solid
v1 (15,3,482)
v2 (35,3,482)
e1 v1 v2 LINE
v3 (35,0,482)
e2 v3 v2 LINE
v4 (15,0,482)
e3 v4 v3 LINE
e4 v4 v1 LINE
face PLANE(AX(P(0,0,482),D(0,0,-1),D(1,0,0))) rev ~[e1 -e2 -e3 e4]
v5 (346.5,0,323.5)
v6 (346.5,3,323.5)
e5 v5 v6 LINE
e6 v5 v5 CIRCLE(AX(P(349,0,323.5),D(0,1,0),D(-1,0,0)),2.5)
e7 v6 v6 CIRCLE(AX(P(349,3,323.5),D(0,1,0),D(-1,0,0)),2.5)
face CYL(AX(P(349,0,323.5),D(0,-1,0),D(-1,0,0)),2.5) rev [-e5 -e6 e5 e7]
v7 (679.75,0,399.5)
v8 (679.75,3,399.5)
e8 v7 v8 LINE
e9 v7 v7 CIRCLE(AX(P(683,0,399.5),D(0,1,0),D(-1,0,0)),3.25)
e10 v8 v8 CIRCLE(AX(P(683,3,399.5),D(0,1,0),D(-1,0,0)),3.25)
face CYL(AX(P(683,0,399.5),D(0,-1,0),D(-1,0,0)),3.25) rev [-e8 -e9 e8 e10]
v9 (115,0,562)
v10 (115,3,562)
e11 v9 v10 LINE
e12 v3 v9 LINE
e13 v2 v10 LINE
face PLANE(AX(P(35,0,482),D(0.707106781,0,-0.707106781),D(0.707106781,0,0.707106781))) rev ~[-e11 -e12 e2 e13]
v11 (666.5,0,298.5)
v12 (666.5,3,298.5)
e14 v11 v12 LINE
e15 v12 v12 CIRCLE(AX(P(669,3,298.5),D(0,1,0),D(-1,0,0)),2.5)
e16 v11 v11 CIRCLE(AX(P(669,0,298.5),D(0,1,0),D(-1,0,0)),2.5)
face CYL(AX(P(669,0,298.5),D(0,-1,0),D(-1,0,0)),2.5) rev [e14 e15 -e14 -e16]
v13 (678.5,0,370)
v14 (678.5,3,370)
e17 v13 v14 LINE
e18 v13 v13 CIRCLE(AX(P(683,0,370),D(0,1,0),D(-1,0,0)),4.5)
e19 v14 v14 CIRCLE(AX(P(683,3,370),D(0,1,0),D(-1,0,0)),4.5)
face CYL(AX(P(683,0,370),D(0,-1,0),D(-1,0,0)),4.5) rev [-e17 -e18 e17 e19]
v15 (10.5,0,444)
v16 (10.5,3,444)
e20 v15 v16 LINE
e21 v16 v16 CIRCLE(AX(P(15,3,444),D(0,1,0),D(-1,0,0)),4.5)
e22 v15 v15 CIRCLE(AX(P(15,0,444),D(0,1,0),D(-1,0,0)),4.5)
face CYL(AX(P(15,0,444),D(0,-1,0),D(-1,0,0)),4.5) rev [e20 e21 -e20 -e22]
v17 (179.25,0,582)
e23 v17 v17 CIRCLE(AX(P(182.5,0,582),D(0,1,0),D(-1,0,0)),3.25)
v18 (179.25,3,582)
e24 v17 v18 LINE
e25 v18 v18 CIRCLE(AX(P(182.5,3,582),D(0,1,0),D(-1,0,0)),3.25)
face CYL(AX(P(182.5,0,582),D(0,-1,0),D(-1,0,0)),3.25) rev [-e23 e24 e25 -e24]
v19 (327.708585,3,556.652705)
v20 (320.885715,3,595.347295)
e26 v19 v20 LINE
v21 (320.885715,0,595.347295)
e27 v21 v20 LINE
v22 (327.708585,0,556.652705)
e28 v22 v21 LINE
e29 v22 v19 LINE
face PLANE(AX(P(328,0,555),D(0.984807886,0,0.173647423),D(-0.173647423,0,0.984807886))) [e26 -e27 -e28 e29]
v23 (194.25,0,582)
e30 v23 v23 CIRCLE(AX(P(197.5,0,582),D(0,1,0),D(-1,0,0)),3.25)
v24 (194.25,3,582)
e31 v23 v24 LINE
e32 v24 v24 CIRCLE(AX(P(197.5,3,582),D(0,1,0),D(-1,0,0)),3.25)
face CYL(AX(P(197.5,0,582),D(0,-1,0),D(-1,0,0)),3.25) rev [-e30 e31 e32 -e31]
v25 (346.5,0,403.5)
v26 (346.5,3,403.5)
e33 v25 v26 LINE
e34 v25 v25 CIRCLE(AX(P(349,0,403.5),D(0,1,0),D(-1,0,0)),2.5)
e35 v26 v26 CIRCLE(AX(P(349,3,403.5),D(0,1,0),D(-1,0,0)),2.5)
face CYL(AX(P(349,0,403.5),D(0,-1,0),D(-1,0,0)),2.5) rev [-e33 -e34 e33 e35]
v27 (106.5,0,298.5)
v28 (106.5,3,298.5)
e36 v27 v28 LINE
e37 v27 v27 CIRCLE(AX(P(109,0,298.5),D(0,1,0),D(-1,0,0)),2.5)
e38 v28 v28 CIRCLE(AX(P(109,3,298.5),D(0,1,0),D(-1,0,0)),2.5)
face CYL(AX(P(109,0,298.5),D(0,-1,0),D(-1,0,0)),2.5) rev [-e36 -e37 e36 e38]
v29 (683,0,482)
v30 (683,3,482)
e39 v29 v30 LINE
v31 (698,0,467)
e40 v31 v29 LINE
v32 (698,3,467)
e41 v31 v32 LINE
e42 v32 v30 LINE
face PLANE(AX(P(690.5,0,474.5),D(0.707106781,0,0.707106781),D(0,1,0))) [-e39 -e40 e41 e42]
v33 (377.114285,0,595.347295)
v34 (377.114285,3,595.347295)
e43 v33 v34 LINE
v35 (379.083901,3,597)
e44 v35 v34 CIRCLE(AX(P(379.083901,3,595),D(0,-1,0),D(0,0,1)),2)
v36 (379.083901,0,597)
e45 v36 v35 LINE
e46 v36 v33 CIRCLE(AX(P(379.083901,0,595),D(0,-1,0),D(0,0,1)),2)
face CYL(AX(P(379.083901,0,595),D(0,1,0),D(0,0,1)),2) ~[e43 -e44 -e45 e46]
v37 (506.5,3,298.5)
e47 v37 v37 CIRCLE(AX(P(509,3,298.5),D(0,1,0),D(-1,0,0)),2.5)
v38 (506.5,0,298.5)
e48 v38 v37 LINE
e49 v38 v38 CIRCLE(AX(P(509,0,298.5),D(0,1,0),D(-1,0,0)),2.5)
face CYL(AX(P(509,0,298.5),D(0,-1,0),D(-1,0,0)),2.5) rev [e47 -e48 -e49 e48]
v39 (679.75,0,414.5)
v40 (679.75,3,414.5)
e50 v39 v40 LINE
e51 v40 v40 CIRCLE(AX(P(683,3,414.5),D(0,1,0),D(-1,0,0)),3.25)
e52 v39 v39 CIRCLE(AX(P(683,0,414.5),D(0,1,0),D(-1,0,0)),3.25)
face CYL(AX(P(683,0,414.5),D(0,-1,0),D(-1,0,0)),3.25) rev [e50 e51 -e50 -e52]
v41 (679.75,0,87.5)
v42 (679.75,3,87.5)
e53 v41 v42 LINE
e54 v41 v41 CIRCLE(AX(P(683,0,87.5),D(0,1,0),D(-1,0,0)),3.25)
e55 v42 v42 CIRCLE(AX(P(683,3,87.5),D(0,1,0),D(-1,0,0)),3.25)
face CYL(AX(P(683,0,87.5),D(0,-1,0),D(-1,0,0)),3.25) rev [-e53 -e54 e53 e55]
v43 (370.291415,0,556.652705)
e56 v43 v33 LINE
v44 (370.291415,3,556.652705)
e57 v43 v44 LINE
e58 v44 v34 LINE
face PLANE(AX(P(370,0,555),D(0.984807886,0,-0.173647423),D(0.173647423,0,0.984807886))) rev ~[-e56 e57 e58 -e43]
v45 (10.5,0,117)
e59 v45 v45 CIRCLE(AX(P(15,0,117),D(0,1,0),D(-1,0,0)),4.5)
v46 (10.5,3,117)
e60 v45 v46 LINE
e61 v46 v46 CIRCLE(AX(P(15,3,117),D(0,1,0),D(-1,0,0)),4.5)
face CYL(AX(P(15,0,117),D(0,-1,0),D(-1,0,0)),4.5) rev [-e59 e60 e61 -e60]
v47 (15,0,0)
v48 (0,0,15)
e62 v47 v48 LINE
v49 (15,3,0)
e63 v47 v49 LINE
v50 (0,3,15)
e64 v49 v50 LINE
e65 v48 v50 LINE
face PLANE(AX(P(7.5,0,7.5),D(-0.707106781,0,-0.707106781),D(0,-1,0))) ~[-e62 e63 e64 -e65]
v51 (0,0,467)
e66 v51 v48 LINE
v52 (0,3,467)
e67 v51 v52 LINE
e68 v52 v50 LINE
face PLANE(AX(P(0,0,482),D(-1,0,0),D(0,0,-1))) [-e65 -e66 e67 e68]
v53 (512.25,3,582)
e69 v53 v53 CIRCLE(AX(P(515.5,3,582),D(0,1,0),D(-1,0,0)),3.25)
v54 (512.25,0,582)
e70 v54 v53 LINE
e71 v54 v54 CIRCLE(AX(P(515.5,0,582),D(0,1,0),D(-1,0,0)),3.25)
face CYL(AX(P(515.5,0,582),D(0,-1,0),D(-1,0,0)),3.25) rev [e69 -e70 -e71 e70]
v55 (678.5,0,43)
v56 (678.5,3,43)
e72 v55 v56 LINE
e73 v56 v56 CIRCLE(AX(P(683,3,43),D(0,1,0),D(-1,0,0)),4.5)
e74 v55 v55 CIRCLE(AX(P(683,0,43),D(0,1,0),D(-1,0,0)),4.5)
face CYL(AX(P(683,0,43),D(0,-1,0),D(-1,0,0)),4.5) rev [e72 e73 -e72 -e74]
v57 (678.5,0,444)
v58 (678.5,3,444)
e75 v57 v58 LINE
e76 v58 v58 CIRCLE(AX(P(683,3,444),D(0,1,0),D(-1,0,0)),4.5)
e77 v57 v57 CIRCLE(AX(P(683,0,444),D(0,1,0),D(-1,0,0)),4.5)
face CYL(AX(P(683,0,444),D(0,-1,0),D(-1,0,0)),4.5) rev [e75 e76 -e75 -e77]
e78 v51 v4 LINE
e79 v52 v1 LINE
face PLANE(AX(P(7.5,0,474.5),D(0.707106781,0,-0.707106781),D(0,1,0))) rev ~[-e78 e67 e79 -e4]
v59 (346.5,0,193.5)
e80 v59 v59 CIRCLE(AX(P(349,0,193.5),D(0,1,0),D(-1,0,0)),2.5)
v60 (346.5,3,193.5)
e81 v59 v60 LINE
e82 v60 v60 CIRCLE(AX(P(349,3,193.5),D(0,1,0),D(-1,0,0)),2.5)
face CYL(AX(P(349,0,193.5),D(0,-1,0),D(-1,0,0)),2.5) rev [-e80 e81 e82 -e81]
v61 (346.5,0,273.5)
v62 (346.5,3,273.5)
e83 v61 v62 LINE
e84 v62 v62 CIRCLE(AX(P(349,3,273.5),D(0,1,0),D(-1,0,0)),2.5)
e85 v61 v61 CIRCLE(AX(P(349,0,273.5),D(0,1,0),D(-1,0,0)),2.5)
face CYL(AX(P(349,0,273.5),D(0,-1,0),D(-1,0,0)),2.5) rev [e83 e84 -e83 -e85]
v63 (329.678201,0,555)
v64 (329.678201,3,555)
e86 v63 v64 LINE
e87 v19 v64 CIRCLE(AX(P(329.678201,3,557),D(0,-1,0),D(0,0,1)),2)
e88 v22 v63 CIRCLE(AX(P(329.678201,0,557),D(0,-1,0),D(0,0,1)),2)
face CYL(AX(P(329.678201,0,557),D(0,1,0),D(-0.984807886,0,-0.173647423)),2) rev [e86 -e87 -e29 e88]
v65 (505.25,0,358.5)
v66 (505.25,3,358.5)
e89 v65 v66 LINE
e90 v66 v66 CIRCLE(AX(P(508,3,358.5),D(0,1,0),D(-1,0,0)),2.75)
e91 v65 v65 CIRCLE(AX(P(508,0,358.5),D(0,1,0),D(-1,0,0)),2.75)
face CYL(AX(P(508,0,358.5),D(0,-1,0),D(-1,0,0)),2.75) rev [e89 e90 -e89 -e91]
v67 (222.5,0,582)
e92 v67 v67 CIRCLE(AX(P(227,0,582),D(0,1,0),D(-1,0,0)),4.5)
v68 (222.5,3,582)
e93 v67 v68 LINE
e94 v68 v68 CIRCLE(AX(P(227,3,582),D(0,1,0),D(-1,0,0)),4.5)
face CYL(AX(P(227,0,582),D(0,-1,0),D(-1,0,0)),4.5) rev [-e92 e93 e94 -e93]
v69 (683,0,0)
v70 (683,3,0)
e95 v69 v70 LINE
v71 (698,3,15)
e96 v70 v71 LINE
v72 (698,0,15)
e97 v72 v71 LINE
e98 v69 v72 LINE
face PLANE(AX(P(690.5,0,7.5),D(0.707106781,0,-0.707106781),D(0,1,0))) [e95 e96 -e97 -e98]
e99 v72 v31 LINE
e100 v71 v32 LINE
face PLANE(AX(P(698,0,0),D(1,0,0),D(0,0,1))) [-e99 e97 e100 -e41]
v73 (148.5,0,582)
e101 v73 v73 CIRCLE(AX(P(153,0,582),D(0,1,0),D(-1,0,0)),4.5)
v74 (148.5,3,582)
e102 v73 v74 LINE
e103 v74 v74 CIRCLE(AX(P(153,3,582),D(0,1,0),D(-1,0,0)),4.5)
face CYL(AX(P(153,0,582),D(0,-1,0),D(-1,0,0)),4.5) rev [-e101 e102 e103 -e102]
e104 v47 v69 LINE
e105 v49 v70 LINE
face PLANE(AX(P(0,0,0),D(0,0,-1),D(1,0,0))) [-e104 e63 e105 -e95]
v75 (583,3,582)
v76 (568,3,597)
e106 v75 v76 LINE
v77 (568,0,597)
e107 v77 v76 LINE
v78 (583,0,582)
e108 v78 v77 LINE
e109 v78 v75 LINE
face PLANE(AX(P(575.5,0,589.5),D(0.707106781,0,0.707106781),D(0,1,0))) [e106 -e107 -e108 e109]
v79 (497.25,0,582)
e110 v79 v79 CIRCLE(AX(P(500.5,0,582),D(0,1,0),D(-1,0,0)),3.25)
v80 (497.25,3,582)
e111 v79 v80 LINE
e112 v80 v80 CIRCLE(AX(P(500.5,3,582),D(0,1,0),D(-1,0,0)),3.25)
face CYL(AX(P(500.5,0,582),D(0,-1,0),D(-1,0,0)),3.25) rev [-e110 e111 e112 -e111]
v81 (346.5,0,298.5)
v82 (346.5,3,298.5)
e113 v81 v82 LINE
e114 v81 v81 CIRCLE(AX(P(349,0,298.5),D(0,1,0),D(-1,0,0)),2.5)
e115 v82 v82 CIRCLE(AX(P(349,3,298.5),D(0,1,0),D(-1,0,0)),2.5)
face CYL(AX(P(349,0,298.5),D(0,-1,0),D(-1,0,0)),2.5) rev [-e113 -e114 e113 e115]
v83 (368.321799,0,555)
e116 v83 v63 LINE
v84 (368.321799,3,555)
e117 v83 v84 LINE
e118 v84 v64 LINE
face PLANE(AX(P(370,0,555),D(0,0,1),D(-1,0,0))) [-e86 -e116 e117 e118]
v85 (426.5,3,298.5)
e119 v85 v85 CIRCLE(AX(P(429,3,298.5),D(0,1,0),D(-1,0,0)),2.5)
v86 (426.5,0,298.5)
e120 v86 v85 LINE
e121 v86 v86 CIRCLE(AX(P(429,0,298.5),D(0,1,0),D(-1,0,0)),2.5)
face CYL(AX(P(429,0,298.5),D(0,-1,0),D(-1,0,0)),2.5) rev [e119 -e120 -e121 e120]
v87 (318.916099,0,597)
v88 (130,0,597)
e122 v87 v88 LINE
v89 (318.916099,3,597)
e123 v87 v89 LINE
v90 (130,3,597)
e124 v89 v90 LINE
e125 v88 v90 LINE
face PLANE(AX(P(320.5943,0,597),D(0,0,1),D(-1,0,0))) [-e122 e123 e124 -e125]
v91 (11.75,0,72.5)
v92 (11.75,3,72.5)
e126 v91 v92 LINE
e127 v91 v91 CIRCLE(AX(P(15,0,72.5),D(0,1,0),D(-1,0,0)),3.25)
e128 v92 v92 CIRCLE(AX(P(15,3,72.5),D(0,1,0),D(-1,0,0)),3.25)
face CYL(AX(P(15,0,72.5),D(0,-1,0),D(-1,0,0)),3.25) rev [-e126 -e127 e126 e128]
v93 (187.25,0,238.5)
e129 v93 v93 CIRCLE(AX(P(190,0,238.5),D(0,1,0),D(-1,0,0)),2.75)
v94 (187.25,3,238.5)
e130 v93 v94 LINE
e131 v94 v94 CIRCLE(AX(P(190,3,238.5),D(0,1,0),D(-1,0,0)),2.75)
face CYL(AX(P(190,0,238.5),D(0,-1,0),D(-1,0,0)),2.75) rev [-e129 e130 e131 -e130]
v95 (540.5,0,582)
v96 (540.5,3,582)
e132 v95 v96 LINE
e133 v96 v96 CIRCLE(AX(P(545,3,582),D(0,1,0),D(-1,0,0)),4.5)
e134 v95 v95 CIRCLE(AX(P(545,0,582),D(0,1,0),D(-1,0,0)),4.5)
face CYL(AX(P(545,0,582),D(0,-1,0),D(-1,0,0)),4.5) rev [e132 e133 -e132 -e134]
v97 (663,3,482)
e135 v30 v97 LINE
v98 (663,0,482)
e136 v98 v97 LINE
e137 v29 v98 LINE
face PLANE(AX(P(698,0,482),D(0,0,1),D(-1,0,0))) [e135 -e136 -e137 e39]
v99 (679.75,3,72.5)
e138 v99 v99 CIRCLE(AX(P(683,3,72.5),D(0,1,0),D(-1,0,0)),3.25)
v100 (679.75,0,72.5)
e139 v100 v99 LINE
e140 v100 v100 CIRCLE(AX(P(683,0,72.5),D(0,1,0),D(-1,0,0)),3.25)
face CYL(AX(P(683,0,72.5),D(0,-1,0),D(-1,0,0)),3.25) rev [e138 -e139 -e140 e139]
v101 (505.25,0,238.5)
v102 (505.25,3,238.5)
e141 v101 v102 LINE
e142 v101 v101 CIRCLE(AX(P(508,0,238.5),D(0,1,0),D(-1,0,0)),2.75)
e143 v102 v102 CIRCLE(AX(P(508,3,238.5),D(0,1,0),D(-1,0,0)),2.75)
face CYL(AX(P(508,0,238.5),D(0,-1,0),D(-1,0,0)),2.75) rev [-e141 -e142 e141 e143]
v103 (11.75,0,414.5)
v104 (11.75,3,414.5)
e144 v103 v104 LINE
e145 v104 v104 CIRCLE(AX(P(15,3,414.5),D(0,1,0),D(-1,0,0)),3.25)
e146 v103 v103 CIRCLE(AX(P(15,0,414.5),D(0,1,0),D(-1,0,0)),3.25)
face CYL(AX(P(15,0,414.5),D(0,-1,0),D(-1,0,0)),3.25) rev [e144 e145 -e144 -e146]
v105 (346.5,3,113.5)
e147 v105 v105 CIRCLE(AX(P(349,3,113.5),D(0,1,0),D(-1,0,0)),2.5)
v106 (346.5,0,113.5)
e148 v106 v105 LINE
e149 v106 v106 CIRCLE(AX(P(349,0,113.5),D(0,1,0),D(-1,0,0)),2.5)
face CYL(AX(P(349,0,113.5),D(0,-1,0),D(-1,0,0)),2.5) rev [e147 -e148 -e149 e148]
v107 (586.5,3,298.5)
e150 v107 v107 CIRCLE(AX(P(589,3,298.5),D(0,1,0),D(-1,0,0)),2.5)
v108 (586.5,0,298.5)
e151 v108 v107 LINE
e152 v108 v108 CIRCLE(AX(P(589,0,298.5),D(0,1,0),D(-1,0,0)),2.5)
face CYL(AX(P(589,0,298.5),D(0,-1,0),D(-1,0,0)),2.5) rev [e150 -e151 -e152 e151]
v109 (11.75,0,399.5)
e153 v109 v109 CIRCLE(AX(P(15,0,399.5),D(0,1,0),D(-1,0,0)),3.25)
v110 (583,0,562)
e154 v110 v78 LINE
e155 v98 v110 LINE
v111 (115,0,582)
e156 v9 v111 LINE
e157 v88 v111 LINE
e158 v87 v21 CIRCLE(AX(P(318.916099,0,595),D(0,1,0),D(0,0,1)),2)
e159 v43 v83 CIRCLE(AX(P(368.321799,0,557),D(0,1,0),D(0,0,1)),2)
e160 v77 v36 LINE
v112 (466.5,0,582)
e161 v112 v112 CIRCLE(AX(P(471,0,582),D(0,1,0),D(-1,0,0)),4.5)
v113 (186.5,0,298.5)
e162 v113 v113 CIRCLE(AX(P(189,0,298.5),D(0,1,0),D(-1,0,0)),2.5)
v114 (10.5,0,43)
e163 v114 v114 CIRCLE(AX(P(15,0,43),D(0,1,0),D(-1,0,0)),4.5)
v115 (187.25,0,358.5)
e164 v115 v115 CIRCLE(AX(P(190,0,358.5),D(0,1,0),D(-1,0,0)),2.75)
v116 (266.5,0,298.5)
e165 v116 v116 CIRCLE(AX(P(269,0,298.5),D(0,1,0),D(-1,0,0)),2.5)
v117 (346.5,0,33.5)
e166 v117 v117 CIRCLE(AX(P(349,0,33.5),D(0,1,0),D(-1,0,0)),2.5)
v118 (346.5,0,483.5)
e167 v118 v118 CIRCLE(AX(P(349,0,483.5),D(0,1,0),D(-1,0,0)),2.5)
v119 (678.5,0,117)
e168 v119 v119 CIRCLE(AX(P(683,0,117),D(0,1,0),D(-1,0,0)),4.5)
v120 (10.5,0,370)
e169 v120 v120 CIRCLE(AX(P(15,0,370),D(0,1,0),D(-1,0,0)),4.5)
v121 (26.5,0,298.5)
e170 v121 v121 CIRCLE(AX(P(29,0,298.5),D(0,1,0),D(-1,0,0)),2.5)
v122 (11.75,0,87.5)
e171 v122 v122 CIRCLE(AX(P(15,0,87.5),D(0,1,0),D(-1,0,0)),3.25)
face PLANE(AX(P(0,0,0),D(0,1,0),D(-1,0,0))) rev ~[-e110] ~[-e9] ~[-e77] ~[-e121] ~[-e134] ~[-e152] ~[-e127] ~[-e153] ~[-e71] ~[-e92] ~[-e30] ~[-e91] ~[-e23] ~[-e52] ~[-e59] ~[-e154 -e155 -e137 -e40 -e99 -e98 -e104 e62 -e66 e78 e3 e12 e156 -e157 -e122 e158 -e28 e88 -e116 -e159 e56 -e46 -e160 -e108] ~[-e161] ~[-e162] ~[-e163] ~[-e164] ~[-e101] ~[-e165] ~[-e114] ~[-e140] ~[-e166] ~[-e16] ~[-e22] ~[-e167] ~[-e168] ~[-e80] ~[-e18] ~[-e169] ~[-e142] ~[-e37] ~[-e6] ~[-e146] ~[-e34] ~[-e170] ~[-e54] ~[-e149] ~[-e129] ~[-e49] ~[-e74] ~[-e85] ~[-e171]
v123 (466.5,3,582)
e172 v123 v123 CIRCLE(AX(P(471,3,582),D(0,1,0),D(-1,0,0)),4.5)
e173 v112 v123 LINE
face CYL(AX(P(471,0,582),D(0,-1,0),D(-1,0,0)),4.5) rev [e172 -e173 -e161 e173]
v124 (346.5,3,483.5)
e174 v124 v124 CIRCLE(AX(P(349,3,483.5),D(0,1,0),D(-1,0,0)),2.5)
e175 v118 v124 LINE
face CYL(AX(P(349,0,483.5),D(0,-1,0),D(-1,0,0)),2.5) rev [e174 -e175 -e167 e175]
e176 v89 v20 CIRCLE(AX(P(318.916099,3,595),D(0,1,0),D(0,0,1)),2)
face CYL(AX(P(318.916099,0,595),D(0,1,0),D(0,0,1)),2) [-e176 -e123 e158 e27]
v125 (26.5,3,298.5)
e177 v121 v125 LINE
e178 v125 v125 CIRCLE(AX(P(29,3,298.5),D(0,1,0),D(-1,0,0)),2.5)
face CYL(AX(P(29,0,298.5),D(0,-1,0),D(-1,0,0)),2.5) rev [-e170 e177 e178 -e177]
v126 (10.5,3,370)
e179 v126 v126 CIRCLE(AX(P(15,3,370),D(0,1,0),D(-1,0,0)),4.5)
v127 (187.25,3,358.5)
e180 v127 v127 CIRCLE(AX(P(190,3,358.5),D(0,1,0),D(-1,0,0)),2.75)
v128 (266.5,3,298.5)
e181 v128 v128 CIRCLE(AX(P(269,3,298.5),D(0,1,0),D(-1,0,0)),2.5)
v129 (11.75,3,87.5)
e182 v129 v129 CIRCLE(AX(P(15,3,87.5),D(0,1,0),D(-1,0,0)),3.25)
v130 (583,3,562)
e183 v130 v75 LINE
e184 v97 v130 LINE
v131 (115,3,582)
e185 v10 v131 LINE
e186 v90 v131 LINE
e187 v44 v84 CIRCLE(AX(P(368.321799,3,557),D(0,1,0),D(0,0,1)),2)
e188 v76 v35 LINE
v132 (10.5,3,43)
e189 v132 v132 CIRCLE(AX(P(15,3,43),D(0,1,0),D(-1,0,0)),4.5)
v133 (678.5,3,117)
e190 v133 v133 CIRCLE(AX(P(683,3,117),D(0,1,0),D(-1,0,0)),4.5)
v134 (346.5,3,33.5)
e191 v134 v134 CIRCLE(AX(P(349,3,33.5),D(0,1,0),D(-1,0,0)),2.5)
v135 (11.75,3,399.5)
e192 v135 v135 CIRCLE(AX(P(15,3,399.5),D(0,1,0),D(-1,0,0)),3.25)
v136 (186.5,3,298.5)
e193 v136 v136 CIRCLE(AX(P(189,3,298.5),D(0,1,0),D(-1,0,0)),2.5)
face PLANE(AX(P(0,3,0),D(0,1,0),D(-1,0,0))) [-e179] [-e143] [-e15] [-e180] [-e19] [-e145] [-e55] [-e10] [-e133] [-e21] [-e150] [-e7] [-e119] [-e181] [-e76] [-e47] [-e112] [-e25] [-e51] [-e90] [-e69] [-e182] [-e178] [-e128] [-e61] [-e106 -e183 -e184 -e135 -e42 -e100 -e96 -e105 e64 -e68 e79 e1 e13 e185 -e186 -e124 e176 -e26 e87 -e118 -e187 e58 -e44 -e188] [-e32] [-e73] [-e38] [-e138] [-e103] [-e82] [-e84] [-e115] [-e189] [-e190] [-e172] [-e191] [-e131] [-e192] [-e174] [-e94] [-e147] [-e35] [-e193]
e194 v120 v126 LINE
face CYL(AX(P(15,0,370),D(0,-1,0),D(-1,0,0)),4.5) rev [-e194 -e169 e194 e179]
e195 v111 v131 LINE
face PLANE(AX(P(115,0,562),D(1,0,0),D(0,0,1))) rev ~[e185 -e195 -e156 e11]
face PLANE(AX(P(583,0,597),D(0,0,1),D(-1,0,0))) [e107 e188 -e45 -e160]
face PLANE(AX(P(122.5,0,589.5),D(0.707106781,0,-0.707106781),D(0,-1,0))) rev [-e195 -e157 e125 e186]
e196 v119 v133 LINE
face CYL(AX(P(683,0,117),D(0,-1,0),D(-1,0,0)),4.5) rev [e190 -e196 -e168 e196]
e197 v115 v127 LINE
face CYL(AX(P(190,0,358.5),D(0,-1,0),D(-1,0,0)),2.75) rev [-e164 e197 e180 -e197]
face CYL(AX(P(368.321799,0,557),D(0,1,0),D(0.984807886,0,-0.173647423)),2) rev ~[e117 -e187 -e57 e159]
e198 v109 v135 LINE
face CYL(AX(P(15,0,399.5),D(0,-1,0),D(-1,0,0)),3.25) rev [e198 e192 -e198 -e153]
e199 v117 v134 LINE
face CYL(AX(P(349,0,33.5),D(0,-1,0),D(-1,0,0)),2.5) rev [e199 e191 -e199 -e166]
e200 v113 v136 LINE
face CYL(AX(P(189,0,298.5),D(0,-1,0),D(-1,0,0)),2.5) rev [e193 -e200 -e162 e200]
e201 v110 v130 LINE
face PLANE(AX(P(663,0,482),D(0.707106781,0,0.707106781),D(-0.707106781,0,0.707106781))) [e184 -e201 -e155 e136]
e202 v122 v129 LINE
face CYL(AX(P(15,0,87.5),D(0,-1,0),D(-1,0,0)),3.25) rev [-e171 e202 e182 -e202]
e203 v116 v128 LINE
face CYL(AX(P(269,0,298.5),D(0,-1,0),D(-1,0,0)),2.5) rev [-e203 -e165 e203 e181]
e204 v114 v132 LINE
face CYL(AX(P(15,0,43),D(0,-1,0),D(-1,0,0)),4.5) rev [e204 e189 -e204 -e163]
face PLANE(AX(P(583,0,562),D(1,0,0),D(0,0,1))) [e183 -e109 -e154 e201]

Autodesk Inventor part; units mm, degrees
ref_plane "YZ Plane" through (0, 0, 0) normal (1, 0, 0) x (0, 1, 0)
ref_plane "XZ Plane" through (0, 0, 0) normal (0, 1, 0) x (-1, 0, 0)
ref_plane "XY Plane" through (0, 0, 0) normal (0, 0, 1) x (1, 0, 0)
sketch "Skizze1" plane through (0, 0, 0) normal (0, 1, 0) x (-1, 0, 0)
  line L0 (0, 0) -> (-698, 0)
  line L1 (-698, 0) -> (-698, 597)
  line L2 (-698, 597) -> (0, 597)
  line L3 (0, 597) -> (0, 0)
  line L4 (-349, 0) -> (-349, 597) construction
  line L5 (0, 298.5) -> (-698, 298.5) construction
  line L6 (-190, 0) -> (-190, 597) construction
  line L7 (-508, 0) -> (-508, 597) construction
  line L8 (-698, 407) -> (0, 407) construction
  line L9 (0, 80) -> (-698, 80) construction
  line L10 (-683, 582) -> (-683, 15) construction
  line L11 (-683, 15) -> (-15, 15) construction
  line L12 (-15, 15) -> (-15, 582) construction
  line L13 (-15, 582) -> (-683, 582) construction
  line L14 (-23, 362) -> (-7, 362) construction
  line L15 (-7, 362) -> (-7, 452) construction
  line L16 (-7, 452) -> (-23, 452) construction
  line L17 (-23, 452) -> (-23, 362) construction
  line L18 (-23, 362) -> (-7, 452) construction
  line L19 (-7, 362) -> (-23, 452) construction
  line L20 (-145, 590) -> (-235, 590) construction
  line L21 (-235, 590) -> (-235, 574) construction
  line L22 (-235, 574) -> (-145, 574) construction
  line L23 (-145, 574) -> (-145, 590) construction
  line L24 (-145, 590) -> (-235, 574) construction
  line L25 (-235, 590) -> (-145, 574) construction
  line L26 (-304, 590) -> (-394, 590) construction
  line L27 (-394, 590) -> (-394, 574) construction
  line L28 (-394, 574) -> (-304, 574) construction
  line L29 (-304, 574) -> (-304, 590) construction
  line L30 (-304, 590) -> (-394, 574) construction
  line L31 (-394, 590) -> (-304, 574) construction
  circle A0 centre (-15, 399.5) radius 3.25
  circle A1 centre (-15, 370) radius 4.5
  circle A2 centre (-15, 414.5) radius 3.25
  circle A3 centre (-15, 444) radius 4.5
  circle A4 centre (-182.5, 582) radius 3.25
  circle A5 centre (-153, 582) radius 4.5
  circle A6 centre (-312, 582) radius 4.5
  circle A7 centre (-341.5, 582) radius 3.25
  circle A8 centre (-197.5, 582) radius 3.25
  circle A9 centre (-227, 582) radius 4.5
  circle A10 centre (-386, 582) radius 4.5
  circle A11 centre (-356.5, 582) radius 3.25
  circle A12 centre (-683, 399.5) radius 3.25
  circle A13 centre (-683, 370) radius 4.5
  circle A14 centre (-683, 444) radius 4.5
  circle A15 centre (-683, 414.5) radius 3.25
  circle A16 centre (-515.5, 582) radius 3.25
  circle A17 centre (-545, 582) radius 4.5
  circle A18 centre (-500.5, 582) radius 3.25
  circle A19 centre (-471, 582) radius 4.5
  circle A20 centre (-15, 43) radius 4.5
  circle A21 centre (-15, 72.5) radius 3.25
  circle A22 centre (-190, 238.5) radius 2.75
  circle A23 centre (-190, 358.5) radius 2.75
  circle A24 centre (-508, 238.5) radius 2.75
  circle A25 centre (-508, 358.5) radius 2.75
  circle A26 centre (-15, 117) radius 4.5
  circle A27 centre (-15, 87.5) radius 3.25
  circle A28 centre (-683, 43) radius 4.5
  circle A29 centre (-683, 72.5) radius 3.25
  circle A30 centre (-683, 87.5) radius 3.25
  circle A31 centre (-683, 117) radius 4.5
  line L32 (0, 482) -> (-35, 482)
  line L33 (-35, 482) -> (-115, 562)
  line L34 (-115, 562) -> (-115, 597)
  line L35 (-698, 482) -> (-663, 482)
  line L36 (-663, 482) -> (-583, 562)
  line L37 (-583, 562) -> (-583, 597)
  line L38 (-328, 597) -> (-370, 597)
  line L39 (-370, 597) -> (-370, 555)
  line L40 (-370, 555) -> (-328, 555)
  line L41 (-328, 555) -> (-328, 597)
  line L42 (-328, 555) -> (-320.5943, 597)
  line L43 (-370, 555) -> (-377.4057, 597)
  point P0 (-15, 407)
  point P1 (-190, 582)
  point P2 (-349, 582)
  point P3 (-190, 298.5)
  dimension "d0" = 698
  dimension "d1" = 597
  dimension "d2" = 190
  dimension "d3" = 80
  dimension "d4" = 190
  dimension "d5" = 190
  dimension "d6" = 15
  dimension "d7" = 16
  dimension "d8" = 90
  dimension "d9" = 90
  dimension "d10" = 16
  dimension "d11" = 90
  dimension "d12" = 16
  dimension "d13" = 6.5
  dimension "d14" = 7.5
  dimension "d15" = 9
  dimension "d16" = 37
  dimension "d17" = 6.5
  dimension "d18" = 9
  dimension "d19" = 7.5
  dimension "d20" = 37
  dimension "d21" = 6.5
  dimension "d22" = 9
  dimension "d23" = 7.5
  dimension "d24" = 37
  dimension "d30" = 5.5
  dimension "d34" = 6.5
  dimension "d35" = 9
  dimension "d36" = 7.5
  dimension "d37" = 37
  dimension "d80" = 115
  dimension "d81" = 115
  dimension "d82" = 45
  dimension "d83" = 35
  dimension "d84" = 42
  dimension "d85" = 10
  dimension "d86" = 42
extrude "Ex-Platte" add sketch "Skizze1" along normal blind 3 contours L0 L1 L35 L36 L37 L2 L43 L40 L42 L34 L33 L32 L3 | A6 | A10
chamfer "Fase-15mm" distance 15 angle 45 6 edges at (698, 1.5, 0) (0, 1.5, 0) (0, 1.5, 482) (115, 1.5, 597) (583, 1.5, 597) (698, 1.5, 482)
ref_plane "Mittelebene" through (683, 0, 298.5) normal (0, 0, -1) x (-1, 0, 0)
sketch "Profil-Verstärkung" plane through (0, 0, 0) normal (0, 1, 0) x (-1, 0, 0)
  line L0 (-683, 0) -> (-15, 0) projected
  line L1 (0, 15) -> (0, 482) projected
  line L2 (-115, 597) -> (-583, 597) projected
  line L3 (-698, 482) -> (-698, 15) projected
  line L4 (0, 248.5) -> (-698, 248.5) construction
  circle A0 centre (-15, 117) radius 4.5 projected
  circle A1 centre (-15, 370) radius 4.5 projected
  circle A2 centre (-190, 358.5) radius 2.75 projected
  circle A3 centre (-190, 238.5) radius 2.75 projected
  circle A4 centre (-227, 582) radius 4.5 projected
  line L5 (-349, 0) -> (-349, 597) construction
  circle A5 centre (-349, 298.5) radius 2.5
  circle A6 centre (-429, 298.5) radius 2.5
  circle A7 centre (-509, 298.5) radius 2.5
  circle A8 centre (-589, 298.5) radius 2.5
  circle A9 centre (-669, 298.5) radius 2.5
  circle A10 centre (-349, 323.5) radius 2.5
  circle A11 centre (-349, 403.5) radius 2.5
  circle A12 centre (-349, 483.5) radius 2.5
  circle A13 centre (-349, 563.5) radius 2.5
  circle A14 centre (-269, 298.5) radius 2.5
  circle A15 centre (-189, 298.5) radius 2.5
  circle A16 centre (-109, 298.5) radius 2.5
  circle A17 centre (-29, 298.5) radius 2.5
  line L6 (139.6, 298.5) -> (-837.6, 298.5) construction
  circle A18 centre (-349, 273.5) radius 2.5
  circle A19 centre (-349, 193.5) radius 2.5
  circle A20 centre (-349, 113.5) radius 2.5
  circle A21 centre (-349, 33.5) radius 2.5
  point P0 (0, 0)
  dimension "d38" = 698
  dimension "d40" = 121.5
  dimension "d42" = 11.5
  dimension "d61" = 5
  dimension "d64" = 80
  dimension "d69" = 5
  dimension "d70" = 25
  dimension "d73" = 80
extrude "Ex-ProfilBohrungen" cut sketch "Profil-Verstärkung" along normal up to surface (3 mm away) contours A5 | A6 | A7 | A8 | A9 | A10 | A11 | A12 | A13 | A14 | A15 | A16 | A17 | A18 | A19 | A20 | A21
fillet "Rundung-2mm" radius 2 4 edges at (370, 1.5, 555) (328, 1.5, 555) (320.5943, 1.5, 597) (377.4057, 1.5, 597)
equation "\"d5\" = d4"
equation "\"d17\" = d13"
equation "\"d18\" = d15"
equation "\"d19\" = d14"
equation "\"d20\" = d16"
equation "\"d21\" = d13"
equation "\"d22\" = d15"
equation "\"d23\" = d14"
equation "\"d24\" = d16"
equation "\"d34\" = d13"
equation "\"d35\" = d15"
equation "\"d36\" = d14"
equation "\"d37\" = d16"
equation "\"d81\" = d80"
equation "\"d69\" = d61"
properties part number "enc-SidePanel Unten V2 596x698"
